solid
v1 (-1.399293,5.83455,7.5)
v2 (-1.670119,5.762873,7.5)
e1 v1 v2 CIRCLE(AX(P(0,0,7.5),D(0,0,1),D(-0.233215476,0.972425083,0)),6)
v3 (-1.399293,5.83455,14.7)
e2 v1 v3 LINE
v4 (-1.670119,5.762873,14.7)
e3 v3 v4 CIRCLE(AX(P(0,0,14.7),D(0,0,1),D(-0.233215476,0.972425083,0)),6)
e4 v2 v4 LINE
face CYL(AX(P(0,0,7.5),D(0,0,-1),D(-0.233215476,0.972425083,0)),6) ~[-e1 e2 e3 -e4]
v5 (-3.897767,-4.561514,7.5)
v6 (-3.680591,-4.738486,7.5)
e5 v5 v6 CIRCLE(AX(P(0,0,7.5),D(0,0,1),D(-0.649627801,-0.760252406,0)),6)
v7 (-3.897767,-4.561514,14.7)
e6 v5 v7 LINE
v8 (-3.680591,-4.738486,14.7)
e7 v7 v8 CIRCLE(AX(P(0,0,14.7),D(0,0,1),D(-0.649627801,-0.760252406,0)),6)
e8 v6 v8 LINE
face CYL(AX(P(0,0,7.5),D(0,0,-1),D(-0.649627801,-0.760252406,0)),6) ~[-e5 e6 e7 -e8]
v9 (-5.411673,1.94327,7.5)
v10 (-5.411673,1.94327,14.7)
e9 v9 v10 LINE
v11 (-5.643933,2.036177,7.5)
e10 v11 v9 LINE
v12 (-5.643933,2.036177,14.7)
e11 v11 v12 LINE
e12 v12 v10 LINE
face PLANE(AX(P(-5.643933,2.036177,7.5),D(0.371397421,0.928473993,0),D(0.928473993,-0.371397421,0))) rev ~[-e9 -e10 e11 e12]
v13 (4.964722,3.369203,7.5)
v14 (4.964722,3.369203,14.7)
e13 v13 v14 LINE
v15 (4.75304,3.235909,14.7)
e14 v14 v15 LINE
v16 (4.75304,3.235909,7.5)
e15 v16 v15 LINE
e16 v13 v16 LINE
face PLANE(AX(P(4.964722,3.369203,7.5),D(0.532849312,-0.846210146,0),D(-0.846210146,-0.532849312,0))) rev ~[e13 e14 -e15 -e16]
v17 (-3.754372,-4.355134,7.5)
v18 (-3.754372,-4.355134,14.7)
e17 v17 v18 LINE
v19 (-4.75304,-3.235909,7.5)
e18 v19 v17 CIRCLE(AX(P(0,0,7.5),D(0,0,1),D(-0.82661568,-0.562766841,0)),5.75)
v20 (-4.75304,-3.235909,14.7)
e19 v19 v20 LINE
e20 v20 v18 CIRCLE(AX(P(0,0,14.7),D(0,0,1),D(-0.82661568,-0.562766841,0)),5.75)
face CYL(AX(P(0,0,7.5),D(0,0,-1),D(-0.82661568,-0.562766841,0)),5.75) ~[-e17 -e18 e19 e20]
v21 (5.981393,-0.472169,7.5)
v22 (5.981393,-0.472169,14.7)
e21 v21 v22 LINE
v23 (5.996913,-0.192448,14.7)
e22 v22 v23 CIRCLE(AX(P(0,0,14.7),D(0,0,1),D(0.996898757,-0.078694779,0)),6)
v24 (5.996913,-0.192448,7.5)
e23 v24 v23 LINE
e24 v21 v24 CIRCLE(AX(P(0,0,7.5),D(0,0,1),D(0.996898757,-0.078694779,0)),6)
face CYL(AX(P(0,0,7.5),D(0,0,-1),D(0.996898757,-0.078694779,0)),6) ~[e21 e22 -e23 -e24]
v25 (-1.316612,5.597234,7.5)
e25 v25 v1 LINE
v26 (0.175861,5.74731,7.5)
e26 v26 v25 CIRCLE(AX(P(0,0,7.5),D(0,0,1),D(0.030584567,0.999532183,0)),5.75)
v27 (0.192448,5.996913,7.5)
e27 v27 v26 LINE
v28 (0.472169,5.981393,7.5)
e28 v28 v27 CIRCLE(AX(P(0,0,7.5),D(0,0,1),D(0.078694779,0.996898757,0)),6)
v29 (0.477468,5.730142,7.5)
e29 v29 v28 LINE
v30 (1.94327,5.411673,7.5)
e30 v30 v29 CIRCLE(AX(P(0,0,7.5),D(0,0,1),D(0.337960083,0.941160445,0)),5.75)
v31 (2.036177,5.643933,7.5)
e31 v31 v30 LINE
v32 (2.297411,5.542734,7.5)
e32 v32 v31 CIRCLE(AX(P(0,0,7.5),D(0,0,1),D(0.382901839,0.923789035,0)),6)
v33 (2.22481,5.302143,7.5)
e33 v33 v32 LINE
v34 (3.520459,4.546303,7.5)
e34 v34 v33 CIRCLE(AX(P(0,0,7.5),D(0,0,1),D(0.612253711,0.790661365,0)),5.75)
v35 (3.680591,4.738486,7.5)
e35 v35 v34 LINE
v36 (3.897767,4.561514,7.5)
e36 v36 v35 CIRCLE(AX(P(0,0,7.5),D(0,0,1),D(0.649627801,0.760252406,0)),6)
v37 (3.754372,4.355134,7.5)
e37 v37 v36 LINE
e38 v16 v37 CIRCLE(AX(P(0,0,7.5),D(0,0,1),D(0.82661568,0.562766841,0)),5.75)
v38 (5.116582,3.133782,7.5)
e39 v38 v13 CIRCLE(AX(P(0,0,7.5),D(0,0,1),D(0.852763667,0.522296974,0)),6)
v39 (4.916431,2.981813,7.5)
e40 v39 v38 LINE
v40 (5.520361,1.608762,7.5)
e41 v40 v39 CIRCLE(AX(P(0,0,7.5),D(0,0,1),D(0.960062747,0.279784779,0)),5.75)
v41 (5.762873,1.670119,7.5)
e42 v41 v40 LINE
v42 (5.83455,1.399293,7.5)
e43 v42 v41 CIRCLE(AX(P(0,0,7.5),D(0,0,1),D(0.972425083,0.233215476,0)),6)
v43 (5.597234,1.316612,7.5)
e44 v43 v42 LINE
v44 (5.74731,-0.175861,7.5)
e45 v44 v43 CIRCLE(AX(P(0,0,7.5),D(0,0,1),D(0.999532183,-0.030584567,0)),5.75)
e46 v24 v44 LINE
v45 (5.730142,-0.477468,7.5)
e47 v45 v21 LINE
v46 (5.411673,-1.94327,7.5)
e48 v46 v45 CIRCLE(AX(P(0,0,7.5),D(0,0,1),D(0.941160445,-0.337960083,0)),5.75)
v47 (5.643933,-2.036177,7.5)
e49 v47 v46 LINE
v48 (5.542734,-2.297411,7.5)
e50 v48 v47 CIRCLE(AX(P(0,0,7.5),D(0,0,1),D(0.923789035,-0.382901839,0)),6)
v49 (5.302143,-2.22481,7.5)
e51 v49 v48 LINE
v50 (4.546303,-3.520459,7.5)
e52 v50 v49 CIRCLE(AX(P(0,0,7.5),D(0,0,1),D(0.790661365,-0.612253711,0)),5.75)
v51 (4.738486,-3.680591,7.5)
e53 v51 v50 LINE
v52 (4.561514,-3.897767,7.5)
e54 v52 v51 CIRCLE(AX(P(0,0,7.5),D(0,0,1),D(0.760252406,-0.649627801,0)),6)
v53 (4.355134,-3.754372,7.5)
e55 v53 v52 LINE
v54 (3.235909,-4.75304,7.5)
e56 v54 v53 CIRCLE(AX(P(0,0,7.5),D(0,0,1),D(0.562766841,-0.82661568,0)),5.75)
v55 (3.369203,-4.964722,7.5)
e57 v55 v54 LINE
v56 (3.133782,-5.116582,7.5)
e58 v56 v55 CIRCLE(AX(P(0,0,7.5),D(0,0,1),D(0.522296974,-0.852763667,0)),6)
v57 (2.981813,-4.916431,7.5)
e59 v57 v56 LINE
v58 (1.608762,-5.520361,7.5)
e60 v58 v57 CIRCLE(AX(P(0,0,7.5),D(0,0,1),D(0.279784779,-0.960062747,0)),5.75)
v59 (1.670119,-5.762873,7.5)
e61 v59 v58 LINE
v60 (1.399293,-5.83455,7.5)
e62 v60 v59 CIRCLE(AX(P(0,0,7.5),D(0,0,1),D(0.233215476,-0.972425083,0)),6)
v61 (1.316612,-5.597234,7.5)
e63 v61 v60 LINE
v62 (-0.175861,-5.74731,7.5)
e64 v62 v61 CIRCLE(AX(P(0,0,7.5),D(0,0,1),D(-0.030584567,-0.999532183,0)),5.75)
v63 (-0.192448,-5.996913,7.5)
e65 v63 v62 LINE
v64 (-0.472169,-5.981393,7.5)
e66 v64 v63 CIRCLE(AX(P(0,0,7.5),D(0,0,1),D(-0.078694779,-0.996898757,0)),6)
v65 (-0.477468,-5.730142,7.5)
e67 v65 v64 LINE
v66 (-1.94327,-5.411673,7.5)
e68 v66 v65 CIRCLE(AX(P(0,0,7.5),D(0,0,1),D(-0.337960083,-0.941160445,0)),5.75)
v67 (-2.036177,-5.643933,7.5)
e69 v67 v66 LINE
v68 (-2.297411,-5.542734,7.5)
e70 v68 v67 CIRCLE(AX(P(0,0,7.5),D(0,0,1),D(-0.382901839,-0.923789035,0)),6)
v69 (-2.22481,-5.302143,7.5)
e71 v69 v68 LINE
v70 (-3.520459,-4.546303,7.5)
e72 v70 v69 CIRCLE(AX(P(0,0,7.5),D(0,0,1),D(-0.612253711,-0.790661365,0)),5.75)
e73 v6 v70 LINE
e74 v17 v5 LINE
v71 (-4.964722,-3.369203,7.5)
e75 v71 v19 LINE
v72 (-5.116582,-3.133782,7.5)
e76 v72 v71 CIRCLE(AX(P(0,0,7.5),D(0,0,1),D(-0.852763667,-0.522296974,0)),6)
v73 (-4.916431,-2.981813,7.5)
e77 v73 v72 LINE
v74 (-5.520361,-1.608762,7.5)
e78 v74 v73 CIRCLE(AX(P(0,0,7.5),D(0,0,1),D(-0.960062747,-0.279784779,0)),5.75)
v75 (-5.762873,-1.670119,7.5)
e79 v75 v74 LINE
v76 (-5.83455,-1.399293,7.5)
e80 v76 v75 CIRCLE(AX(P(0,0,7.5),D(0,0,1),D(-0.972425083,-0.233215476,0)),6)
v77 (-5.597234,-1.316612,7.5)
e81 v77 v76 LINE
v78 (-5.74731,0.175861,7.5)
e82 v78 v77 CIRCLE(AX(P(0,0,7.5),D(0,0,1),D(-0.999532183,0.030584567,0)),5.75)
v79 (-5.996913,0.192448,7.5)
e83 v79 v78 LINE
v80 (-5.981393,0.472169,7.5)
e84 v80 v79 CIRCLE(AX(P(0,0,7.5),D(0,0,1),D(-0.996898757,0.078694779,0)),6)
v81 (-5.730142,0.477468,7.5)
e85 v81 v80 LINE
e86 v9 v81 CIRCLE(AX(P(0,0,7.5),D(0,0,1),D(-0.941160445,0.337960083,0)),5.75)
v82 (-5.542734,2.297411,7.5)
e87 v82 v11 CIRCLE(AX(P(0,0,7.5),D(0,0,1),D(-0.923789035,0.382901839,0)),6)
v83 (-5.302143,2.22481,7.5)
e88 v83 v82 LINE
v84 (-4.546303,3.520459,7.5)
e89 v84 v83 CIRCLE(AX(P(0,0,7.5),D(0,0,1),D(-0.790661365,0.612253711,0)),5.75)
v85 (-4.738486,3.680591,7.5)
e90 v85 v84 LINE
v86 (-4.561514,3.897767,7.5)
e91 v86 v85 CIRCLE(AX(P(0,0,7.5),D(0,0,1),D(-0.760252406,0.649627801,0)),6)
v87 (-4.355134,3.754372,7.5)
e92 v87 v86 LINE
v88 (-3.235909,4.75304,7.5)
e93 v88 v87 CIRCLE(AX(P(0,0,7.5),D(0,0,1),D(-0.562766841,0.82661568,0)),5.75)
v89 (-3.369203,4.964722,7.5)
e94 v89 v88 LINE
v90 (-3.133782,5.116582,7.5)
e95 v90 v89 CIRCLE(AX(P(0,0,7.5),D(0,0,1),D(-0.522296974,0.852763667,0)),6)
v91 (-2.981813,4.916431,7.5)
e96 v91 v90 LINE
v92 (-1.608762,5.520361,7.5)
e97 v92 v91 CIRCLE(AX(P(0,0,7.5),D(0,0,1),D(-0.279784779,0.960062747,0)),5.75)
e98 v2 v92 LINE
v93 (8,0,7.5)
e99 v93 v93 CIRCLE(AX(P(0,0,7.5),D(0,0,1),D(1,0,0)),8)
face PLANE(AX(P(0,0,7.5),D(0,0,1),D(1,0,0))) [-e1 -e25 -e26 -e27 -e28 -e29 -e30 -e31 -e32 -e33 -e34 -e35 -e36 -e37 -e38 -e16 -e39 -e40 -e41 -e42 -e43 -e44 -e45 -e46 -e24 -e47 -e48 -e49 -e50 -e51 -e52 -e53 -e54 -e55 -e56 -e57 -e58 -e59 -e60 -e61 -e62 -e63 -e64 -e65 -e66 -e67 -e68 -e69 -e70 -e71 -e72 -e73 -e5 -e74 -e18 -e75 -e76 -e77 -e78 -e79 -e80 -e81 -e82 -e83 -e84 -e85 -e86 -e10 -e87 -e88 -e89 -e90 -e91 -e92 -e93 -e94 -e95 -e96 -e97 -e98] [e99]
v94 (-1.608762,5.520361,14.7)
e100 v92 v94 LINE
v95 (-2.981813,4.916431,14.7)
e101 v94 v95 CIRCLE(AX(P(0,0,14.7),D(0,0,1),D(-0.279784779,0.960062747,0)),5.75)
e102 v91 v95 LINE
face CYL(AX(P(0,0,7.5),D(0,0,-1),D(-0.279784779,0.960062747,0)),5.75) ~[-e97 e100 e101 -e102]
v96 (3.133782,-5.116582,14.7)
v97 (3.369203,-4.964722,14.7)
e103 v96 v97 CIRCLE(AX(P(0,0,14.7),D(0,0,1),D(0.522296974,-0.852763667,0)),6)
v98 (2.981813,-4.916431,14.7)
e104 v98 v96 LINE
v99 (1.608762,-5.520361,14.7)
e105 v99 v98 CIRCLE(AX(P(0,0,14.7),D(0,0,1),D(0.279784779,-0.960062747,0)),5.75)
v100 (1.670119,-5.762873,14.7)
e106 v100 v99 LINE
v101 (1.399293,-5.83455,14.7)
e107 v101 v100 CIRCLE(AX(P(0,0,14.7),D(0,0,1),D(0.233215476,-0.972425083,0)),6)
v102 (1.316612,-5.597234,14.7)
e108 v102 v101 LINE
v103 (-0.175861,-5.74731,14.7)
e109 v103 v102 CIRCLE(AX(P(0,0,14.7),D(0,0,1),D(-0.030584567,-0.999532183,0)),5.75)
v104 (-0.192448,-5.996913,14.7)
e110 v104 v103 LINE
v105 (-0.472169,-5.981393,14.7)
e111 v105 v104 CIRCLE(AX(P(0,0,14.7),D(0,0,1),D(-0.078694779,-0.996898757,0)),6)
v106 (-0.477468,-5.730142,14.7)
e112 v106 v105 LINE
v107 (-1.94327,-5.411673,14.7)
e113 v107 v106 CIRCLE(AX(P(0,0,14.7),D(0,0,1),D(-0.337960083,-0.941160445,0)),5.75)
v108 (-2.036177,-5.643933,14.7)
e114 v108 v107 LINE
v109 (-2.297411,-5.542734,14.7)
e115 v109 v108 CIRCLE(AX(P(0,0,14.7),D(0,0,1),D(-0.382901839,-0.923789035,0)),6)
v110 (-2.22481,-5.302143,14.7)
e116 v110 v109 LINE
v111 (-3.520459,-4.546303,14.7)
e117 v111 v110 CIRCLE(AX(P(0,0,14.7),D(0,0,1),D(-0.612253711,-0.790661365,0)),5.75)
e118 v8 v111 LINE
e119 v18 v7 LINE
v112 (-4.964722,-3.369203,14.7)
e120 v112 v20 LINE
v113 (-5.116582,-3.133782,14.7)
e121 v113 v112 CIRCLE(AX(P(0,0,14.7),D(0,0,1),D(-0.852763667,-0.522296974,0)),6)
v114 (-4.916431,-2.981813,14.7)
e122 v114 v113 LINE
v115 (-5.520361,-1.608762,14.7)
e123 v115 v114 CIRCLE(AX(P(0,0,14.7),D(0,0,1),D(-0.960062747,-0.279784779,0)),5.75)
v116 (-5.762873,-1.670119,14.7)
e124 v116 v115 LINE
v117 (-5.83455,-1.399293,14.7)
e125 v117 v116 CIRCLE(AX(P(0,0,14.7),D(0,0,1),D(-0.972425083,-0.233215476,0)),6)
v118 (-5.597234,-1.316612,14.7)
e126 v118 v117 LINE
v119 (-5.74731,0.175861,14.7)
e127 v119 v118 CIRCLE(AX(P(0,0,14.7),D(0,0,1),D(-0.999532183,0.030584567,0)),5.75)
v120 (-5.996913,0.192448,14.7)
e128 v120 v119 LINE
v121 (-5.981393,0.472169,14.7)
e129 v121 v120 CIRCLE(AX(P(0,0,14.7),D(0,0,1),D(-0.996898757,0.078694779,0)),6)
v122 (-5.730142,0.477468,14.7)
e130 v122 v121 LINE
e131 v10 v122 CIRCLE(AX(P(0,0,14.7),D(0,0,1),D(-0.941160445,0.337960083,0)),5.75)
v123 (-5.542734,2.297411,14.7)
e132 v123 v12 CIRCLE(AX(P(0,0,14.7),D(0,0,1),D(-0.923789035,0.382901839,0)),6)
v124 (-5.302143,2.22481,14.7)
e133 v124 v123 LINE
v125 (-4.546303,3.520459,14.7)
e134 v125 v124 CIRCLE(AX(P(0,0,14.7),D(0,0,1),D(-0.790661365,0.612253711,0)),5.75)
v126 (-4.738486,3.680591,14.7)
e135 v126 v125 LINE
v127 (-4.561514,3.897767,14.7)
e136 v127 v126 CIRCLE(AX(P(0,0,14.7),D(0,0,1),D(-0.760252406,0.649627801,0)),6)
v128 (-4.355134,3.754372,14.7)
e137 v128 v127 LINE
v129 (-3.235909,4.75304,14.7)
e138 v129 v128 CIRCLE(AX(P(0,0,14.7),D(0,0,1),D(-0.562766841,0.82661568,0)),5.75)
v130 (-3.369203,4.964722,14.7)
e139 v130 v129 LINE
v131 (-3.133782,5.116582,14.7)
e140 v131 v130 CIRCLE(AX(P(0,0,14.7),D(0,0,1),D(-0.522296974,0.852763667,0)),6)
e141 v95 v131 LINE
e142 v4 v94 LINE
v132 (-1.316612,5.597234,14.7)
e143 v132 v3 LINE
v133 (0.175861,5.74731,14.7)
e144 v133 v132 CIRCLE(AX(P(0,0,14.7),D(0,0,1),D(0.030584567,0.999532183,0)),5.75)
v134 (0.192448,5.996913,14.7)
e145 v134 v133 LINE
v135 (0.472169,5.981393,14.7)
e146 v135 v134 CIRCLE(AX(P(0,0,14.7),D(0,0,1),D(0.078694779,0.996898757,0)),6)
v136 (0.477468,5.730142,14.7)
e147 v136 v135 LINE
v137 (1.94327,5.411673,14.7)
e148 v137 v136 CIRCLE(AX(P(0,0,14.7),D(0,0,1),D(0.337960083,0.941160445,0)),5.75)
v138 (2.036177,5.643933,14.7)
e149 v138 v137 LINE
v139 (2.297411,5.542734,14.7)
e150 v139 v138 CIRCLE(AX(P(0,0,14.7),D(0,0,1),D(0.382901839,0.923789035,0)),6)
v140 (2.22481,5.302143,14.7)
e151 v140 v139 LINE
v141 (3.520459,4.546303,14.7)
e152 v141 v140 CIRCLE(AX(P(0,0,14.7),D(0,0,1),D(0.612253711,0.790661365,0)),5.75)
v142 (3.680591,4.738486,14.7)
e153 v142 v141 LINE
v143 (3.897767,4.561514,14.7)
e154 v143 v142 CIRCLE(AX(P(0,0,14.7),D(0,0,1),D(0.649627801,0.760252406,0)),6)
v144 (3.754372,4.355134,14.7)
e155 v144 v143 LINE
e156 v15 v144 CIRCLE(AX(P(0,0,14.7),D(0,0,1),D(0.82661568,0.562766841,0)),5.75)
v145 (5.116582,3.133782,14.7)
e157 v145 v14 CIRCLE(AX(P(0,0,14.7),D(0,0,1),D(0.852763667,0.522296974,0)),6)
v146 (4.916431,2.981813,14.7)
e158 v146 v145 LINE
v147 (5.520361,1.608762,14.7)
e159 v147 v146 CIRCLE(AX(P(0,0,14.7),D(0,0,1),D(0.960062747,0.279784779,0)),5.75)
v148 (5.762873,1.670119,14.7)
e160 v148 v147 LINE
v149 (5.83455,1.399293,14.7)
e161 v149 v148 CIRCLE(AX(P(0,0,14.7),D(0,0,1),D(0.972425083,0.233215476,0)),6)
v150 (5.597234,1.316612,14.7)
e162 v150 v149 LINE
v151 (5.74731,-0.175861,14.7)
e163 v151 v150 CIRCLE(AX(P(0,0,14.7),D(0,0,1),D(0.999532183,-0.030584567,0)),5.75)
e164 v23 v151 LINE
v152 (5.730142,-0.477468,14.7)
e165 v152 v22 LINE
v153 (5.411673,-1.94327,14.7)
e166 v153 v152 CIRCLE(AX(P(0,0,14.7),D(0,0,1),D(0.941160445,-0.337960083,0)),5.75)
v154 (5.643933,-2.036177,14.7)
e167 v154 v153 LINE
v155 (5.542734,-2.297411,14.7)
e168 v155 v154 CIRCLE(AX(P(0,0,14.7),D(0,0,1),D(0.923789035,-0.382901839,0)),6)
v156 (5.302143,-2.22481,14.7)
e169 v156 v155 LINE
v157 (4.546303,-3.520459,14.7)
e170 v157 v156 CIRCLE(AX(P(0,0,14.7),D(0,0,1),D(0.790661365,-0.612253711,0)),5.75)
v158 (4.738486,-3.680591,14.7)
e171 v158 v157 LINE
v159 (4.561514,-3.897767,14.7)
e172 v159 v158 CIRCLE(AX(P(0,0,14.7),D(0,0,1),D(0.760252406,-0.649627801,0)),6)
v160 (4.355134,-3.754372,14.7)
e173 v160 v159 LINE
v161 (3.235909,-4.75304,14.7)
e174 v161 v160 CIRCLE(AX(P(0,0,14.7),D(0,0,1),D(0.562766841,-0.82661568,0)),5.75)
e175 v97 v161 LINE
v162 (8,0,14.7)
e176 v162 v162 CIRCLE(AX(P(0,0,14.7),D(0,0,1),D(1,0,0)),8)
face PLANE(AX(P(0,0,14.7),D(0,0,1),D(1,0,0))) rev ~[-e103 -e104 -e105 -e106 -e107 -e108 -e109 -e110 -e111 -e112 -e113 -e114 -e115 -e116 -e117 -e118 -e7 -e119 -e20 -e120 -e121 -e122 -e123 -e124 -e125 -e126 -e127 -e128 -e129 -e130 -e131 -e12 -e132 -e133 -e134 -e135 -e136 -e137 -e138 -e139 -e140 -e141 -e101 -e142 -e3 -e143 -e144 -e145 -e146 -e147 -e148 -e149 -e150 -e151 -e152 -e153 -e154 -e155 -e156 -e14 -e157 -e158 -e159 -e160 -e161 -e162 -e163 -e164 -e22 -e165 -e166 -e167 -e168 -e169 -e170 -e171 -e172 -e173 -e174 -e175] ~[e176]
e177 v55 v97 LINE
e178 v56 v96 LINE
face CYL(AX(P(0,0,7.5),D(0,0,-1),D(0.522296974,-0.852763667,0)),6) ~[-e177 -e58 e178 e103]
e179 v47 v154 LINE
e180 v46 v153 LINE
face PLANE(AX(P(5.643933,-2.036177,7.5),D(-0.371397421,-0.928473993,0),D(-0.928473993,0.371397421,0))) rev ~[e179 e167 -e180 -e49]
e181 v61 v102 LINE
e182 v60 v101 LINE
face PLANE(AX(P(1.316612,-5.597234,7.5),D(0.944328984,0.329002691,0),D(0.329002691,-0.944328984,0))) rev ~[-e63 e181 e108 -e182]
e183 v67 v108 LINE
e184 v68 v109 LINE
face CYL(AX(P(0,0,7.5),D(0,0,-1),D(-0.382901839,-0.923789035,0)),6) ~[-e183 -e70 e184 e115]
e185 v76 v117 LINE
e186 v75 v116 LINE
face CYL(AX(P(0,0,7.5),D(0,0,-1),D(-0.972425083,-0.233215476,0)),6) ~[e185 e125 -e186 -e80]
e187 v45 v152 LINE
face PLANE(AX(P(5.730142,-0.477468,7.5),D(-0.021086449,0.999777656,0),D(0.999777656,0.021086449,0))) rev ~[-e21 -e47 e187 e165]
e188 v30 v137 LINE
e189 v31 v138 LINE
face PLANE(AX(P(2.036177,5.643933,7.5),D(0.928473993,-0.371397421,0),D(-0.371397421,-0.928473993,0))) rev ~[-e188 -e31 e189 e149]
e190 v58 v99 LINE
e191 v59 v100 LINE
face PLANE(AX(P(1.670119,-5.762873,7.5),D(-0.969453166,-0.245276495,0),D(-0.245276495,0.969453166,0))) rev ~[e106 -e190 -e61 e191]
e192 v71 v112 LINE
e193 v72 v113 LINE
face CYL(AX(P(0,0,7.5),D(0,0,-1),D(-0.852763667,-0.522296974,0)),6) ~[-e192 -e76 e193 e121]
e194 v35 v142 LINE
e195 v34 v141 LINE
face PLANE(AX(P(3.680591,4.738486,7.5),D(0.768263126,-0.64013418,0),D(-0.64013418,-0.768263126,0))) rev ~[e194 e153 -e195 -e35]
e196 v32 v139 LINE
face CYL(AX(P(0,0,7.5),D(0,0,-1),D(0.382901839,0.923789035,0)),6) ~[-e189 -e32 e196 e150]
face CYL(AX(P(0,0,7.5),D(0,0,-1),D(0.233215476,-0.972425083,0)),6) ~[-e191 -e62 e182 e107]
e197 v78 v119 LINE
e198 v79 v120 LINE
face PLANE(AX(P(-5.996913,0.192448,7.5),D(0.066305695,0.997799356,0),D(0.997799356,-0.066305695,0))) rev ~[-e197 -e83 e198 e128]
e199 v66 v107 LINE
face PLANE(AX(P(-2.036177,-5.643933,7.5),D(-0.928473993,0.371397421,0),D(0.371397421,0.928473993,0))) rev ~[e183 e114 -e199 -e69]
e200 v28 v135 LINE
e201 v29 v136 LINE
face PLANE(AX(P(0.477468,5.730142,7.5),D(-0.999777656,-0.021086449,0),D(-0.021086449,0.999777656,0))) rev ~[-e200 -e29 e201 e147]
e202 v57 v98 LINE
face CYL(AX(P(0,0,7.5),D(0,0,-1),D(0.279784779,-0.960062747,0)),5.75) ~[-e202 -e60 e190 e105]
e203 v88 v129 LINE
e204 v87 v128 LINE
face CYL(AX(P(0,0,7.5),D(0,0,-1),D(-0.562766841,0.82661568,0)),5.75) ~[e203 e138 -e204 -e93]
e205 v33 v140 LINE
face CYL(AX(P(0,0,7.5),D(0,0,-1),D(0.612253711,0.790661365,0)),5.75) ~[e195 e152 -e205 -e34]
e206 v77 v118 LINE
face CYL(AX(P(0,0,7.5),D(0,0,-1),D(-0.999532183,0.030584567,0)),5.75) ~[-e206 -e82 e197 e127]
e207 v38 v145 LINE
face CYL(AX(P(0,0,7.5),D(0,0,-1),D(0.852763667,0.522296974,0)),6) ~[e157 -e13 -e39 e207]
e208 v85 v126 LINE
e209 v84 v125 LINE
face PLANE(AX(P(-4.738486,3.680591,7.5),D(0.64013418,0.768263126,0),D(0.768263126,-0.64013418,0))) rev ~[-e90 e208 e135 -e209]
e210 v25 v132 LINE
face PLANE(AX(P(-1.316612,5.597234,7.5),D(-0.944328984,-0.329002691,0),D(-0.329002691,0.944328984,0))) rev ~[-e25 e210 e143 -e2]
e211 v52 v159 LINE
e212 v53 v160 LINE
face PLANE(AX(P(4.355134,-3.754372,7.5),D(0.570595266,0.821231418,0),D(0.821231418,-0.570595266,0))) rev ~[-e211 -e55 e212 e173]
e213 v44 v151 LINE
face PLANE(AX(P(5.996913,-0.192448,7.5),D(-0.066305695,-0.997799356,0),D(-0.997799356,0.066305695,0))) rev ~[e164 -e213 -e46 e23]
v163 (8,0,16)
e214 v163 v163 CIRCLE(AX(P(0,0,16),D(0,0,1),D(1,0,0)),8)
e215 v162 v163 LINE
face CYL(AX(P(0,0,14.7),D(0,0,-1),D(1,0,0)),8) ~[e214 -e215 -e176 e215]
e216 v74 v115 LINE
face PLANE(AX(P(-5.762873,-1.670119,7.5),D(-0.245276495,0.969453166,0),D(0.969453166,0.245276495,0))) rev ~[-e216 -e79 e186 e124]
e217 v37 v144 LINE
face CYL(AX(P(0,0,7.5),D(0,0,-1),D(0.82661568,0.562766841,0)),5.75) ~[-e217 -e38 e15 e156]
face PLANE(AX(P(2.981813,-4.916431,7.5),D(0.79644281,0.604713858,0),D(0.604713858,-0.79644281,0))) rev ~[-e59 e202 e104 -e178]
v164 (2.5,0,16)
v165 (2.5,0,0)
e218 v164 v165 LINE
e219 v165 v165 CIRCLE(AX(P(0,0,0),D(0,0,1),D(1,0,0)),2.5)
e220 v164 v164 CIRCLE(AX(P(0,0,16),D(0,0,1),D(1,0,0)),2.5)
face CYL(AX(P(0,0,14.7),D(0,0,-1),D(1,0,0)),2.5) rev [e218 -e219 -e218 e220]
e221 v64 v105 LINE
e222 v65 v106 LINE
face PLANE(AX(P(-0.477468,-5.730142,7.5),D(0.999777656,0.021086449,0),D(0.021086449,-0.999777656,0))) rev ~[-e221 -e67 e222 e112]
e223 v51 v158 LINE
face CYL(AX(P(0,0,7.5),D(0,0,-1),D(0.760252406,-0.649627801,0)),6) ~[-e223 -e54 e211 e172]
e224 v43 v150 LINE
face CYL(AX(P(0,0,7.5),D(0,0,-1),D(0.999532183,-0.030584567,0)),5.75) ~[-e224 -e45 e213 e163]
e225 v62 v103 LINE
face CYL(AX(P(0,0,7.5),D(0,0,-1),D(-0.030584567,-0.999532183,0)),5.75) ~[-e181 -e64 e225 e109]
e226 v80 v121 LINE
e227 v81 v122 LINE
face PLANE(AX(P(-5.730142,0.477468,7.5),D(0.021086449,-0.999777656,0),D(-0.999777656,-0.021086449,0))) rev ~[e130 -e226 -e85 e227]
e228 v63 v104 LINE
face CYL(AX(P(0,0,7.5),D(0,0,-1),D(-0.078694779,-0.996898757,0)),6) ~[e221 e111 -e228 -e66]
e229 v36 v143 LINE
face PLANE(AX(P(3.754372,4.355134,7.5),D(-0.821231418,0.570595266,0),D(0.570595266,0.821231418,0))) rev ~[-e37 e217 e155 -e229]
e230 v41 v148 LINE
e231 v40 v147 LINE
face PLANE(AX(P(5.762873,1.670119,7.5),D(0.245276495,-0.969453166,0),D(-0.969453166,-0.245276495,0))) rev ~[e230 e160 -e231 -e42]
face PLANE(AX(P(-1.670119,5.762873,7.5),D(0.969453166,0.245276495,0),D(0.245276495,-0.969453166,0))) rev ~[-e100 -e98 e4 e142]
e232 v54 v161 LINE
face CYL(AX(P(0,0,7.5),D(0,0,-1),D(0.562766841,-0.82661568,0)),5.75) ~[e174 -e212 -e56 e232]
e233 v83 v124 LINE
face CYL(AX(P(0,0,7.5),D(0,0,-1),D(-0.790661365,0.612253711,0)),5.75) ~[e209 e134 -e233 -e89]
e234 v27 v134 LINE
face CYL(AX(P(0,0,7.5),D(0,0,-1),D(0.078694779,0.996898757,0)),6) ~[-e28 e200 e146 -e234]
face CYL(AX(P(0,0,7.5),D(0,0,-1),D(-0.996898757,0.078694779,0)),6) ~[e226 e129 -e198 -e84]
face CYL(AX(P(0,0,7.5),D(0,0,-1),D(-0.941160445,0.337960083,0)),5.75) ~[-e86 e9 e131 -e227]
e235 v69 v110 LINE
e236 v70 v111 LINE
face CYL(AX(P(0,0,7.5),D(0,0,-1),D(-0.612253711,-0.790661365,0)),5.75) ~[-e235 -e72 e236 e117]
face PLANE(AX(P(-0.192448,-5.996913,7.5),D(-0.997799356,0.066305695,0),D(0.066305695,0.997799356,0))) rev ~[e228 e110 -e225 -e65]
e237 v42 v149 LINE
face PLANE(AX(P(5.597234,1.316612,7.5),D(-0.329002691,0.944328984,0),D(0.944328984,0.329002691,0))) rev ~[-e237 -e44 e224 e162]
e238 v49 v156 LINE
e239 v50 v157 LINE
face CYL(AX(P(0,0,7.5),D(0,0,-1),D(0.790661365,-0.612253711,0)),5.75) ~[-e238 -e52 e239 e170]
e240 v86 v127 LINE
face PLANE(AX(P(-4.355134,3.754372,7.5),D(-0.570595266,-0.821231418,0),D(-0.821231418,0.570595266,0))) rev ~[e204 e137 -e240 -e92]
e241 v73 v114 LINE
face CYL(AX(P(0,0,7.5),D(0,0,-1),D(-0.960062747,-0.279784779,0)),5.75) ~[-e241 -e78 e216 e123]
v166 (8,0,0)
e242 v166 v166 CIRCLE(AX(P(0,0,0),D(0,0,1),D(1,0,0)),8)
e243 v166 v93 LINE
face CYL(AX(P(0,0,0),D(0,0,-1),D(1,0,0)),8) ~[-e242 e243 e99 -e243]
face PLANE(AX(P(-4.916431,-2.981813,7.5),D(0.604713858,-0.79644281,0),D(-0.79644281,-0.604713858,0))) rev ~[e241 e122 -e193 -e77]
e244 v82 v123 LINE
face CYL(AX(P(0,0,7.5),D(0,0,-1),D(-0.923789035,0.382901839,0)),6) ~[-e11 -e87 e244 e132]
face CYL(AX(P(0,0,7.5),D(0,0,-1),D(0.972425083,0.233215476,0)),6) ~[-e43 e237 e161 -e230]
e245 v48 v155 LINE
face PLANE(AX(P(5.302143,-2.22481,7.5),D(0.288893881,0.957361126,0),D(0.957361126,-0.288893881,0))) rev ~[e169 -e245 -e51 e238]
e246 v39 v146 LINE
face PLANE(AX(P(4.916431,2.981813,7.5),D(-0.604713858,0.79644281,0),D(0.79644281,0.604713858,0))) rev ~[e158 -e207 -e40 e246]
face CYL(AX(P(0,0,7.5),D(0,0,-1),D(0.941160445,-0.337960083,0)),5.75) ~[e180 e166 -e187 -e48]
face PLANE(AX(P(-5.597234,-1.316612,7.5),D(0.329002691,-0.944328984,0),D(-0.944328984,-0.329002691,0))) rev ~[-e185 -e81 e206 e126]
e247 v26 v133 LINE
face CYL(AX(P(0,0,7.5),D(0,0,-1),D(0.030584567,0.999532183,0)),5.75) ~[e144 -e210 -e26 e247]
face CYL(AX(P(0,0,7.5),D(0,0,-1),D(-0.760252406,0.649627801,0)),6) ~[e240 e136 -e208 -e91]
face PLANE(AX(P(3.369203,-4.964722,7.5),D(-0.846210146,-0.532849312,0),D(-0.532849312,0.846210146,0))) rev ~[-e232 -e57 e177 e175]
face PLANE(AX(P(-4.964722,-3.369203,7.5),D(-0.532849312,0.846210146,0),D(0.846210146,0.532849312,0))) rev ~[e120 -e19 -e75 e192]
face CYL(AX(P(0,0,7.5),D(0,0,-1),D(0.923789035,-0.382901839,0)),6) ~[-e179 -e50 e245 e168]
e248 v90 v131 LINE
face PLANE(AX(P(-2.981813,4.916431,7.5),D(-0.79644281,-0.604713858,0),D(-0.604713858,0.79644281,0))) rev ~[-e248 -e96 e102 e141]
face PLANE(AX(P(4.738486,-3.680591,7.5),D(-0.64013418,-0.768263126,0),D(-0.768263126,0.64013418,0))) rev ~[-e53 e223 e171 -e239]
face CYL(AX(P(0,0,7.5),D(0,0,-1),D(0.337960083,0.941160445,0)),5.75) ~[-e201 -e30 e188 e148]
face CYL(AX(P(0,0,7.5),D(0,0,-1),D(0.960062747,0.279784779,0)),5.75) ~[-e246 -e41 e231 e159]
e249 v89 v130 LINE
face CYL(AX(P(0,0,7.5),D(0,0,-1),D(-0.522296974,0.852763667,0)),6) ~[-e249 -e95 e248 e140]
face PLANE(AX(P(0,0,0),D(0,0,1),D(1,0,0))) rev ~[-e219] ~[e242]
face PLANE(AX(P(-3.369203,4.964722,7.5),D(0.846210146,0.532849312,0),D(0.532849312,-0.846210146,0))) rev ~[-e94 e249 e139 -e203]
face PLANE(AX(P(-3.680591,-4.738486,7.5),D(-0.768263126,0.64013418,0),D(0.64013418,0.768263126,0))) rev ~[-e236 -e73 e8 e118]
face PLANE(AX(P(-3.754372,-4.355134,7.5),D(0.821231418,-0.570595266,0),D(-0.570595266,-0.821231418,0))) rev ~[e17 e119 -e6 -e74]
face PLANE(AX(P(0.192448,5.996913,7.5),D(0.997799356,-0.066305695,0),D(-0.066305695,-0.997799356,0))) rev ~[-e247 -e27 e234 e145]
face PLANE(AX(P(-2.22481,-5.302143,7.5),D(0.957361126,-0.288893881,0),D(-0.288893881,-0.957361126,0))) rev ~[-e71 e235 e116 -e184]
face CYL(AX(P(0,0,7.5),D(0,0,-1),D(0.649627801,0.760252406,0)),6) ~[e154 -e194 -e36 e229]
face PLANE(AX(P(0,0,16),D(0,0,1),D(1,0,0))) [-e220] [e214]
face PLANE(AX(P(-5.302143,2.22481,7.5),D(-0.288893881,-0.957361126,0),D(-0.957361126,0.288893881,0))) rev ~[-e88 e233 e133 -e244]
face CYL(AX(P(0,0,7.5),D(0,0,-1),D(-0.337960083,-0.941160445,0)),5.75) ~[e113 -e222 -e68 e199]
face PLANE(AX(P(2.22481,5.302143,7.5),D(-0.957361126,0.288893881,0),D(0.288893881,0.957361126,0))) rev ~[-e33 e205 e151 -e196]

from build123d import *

# Parameters (mm, degrees)
F0_R     = 8
F0_R_2   = 2.5
F1_DEPTH = 7.5
F2_R     = 2.5
F3_DEPTH = 7.2
F4_R     = 8
F4_R_2   = 2.5
F5_DEPTH = 1.3


with BuildPart() as f1:
    # F0 (on Top) → F1 (new body)
    with BuildSketch(Plane.XY):
        Circle(F0_R)
        Circle(F0_R_2, mode=Mode.SUBTRACT)
    extrude(amount=F1_DEPTH)

    # F2 (on face) → F3 (join)
    with BuildSketch(Plane.XY.offset(7.5)):
        with BuildLine():
            Line((4.9164306089, 2.9818132181), (5.1165819993, 3.1337818439))
            ThreePointArc((5.1165819993, 3.1337818439), (5.042026432, 3.2523790461), (4.964722424, 3.3692033558))
            Line((4.964722424, 3.3692033558), (4.7530401587, 3.2359093389))
            ThreePointArc((4.7530401587, 3.2359093389), (4.2903592893, 3.8282263738), (3.7543724091, 4.3551335013))
            Line((3.7543724091, 4.3551335013), (3.8977668051, 4.5615144341))
            ThreePointArc((3.8977668051, 4.5615144341), (3.790211696, 4.6512681388), (3.6805905185, 4.7384864076))
            Line((3.6805905185, 4.7384864076), (3.5204588372, 4.5463028469))
            ThreePointArc((3.5204588372, 4.5463028469), (2.8973871515, 4.966653571), (2.2248100796, 5.3021429733))
            Line((2.2248100796, 5.3021429733), (2.2974110388, 5.5427342097))
            ThreePointArc((2.2974110388, 5.5427342097), (2.1673846314, 5.5948586988), (2.0361767688, 5.6439333949))
            Line((2.0361767688, 5.6439333949), (1.9432704762, 5.4116725563))
            ThreePointArc((1.9432704762, 5.4116725563), (1.2207985721, 5.618910112), (0.4774678383, 5.730141749))
            Line((0.4774678383, 5.730141749), (0.472168673, 5.9813925422))
            ThreePointArc((0.472168673, 5.9813925422), (0.3323988579, 5.9907855077), (0.1924478502, 5.9969128579))
            Line((0.1924478502, 5.9969128579), (0.1758612615, 5.7473100505))
            ThreePointArc((0.1758612615, 5.7473100505), (-0.5752902774, 5.7211485819), (-1.3166122817, 5.597234326))
            Line((-1.3166122817, 5.597234326), (-1.3992928524, 5.834550498))
            ThreePointArc((-1.3992928524, 5.834550498), (-1.5351244317, 5.8002924908), (-1.6701192049, 5.7628727074))
            Line((-1.6701192049, 5.7628727074), (-1.6087624789, 5.5203607932))
            ThreePointArc((-1.6087624789, 5.5203607932), (-2.3150657063, 5.2633611671), (-2.9818132181, 4.9164306089))
            Line((-2.9818132181, 4.9164306089), (-3.1337818439, 5.1165819993))
            ThreePointArc((-3.1337818439, 5.1165819993), (-3.2523790461, 5.042026432), (-3.3692033558, 4.964722424))
            Line((-3.3692033558, 4.964722424), (-3.2359093389, 4.7530401587))
            ThreePointArc((-3.2359093389, 4.7530401587), (-3.8282263738, 4.2903592893), (-4.3551335013, 3.7543724091))
            Line((-4.3551335013, 3.7543724091), (-4.5615144341, 3.8977668051))
            ThreePointArc((-4.5615144341, 3.8977668051), (-4.6512681388, 3.790211696), (-4.7384864076, 3.6805905185))
            Line((-4.7384864076, 3.6805905185), (-4.5463028469, 3.5204588372))
            ThreePointArc((-4.5463028469, 3.5204588372), (-4.966653571, 2.8973871515), (-5.3021429733, 2.2248100796))
            Line((-5.3021429733, 2.2248100796), (-5.5427342097, 2.2974110388))
            ThreePointArc((-5.5427342097, 2.2974110388), (-5.5948586988, 2.1673846314), (-5.6439333949, 2.0361767688))
            Line((-5.6439333949, 2.0361767688), (-5.4116725563, 1.9432704762))
            ThreePointArc((-5.4116725563, 1.9432704762), (-5.618910112, 1.2207985721), (-5.730141749, 0.4774678383))
            Line((-5.730141749, 0.4774678383), (-5.9813925422, 0.472168673))
            ThreePointArc((-5.9813925422, 0.472168673), (-5.9907855077, 0.3323988579), (-5.9969128579, 0.1924478502))
            Line((-5.9969128579, 0.1924478502), (-5.7473100505, 0.1758612615))
            ThreePointArc((-5.7473100505, 0.1758612615), (-5.7211485819, -0.5752902774), (-5.597234326, -1.3166122817))
            Line((-5.597234326, -1.3166122817), (-5.834550498, -1.3992928524))
            ThreePointArc((-5.834550498, -1.3992928524), (-5.8002924908, -1.5351244317), (-5.7628727074, -1.6701192049))
            Line((-5.7628727074, -1.6701192049), (-5.5203607932, -1.6087624789))
            ThreePointArc((-5.5203607932, -1.6087624789), (-5.2633611671, -2.3150657063), (-4.9164306089, -2.9818132181))
            Line((-4.9164306089, -2.9818132181), (-5.1165819993, -3.1337818439))
            ThreePointArc((-5.1165819993, -3.1337818439), (-5.042026432, -3.2523790461), (-4.964722424, -3.3692033558))
            Line((-4.964722424, -3.3692033558), (-4.7530401587, -3.2359093389))
            ThreePointArc((-4.7530401587, -3.2359093389), (-4.2903592893, -3.8282263738), (-3.7543724091, -4.3551335013))
            Line((-3.7543724091, -4.3551335013), (-3.8977668051, -4.5615144341))
            ThreePointArc((-3.8977668051, -4.5615144341), (-3.790211696, -4.6512681388), (-3.6805905185, -4.7384864076))
            Line((-3.6805905185, -4.7384864076), (-3.5204588372, -4.5463028469))
            ThreePointArc((-3.5204588372, -4.5463028469), (-2.8973871515, -4.966653571), (-2.2248100796, -5.3021429733))
            Line((-2.2248100796, -5.3021429733), (-2.2974110388, -5.5427342097))
            ThreePointArc((-2.2974110388, -5.5427342097), (-2.1673846314, -5.5948586988), (-2.0361767688, -5.6439333949))
            Line((-2.0361767688, -5.6439333949), (-1.9432704762, -5.4116725563))
            ThreePointArc((-1.9432704762, -5.4116725563), (-1.2207985721, -5.618910112), (-0.4774678383, -5.730141749))
            Line((-0.4774678383, -5.730141749), (-0.472168673, -5.9813925422))
            ThreePointArc((-0.472168673, -5.9813925422), (-0.3323988579, -5.9907855077), (-0.1924478502, -5.9969128579))
            Line((-0.1924478502, -5.9969128579), (-0.1758612615, -5.7473100505))
            ThreePointArc((-0.1758612615, -5.7473100505), (0.5752902774, -5.7211485819), (1.3166122817, -5.597234326))
            Line((1.3166122817, -5.597234326), (1.3992928524, -5.834550498))
            ThreePointArc((1.3992928524, -5.834550498), (1.5351244317, -5.8002924908), (1.6701192049, -5.7628727074))
            Line((1.6701192049, -5.7628727074), (1.6087624789, -5.5203607932))
            ThreePointArc((1.6087624789, -5.5203607932), (2.3150657063, -5.2633611671), (2.9818132181, -4.9164306089))
            Line((2.9818132181, -4.9164306089), (3.1337818439, -5.1165819993))
            ThreePointArc((3.1337818439, -5.1165819993), (3.2523790461, -5.042026432), (3.3692033558, -4.964722424))
            Line((3.3692033558, -4.964722424), (3.2359093389, -4.7530401587))
            ThreePointArc((3.2359093389, -4.7530401587), (3.8282263738, -4.2903592893), (4.3551335013, -3.7543724091))
            Line((4.3551335013, -3.7543724091), (4.5615144341, -3.8977668051))
            ThreePointArc((4.5615144341, -3.8977668051), (4.6512681388, -3.790211696), (4.7384864076, -3.6805905185))
            Line((4.7384864076, -3.6805905185), (4.5463028469, -3.5204588372))
            ThreePointArc((4.5463028469, -3.5204588372), (4.966653571, -2.8973871515), (5.3021429733, -2.2248100796))
            Line((5.3021429733, -2.2248100796), (5.5427342097, -2.2974110388))
            ThreePointArc((5.5427342097, -2.2974110388), (5.5948586988, -2.1673846314), (5.6439333949, -2.0361767688))
            Line((5.6439333949, -2.0361767688), (5.4116725563, -1.9432704762))
            ThreePointArc((5.4116725563, -1.9432704762), (5.618910112, -1.2207985721), (5.730141749, -0.4774678383))
            Line((5.730141749, -0.4774678383), (5.9813925422, -0.472168673))
            ThreePointArc((5.9813925422, -0.472168673), (5.9907855077, -0.3323988579), (5.9969128579, -0.1924478502))
            Line((5.9969128579, -0.1924478502), (5.7473100505, -0.1758612615))
            ThreePointArc((5.7473100505, -0.1758612615), (5.7211485819, 0.5752902774), (5.597234326, 1.3166122817))
            Line((5.597234326, 1.3166122817), (5.834550498, 1.3992928524))
            ThreePointArc((5.834550498, 1.3992928524), (5.8002924908, 1.5351244317), (5.7628727074, 1.6701192049))
            Line((5.7628727074, 1.6701192049), (5.5203607932, 1.6087624789))
            ThreePointArc((5.5203607932, 1.6087624789), (5.2633611671, 2.3150657063), (4.9164306089, 2.9818132181))
        make_face()
        Circle(F2_R, mode=Mode.SUBTRACT)
    extrude(amount=F3_DEPTH)

    # F4 (on face) → F5 (join)
    with BuildSketch(Plane.XY.offset(14.7)):
        Circle(F4_R)
        with BuildLine():
            ThreePointArc((-3.7543724091, -4.3551335013), (-4.2903592893, -3.8282263738), (-4.7530401587, -3.2359093389))
            Line((-4.7530401587, -3.2359093389), (-4.964722424, -3.3692033558))
            ThreePointArc((-4.964722424, -3.3692033558), (-5.042026432, -3.2523790461), (-5.1165819993, -3.1337818439))
            Line((-5.1165819993, -3.1337818439), (-4.9164306089, -2.9818132181))
            ThreePointArc((-4.9164306089, -2.9818132181), (-5.2633611671, -2.3150657063), (-5.5203607932, -1.6087624789))
            Line((-5.5203607932, -1.6087624789), (-5.7628727074, -1.6701192049))
            ThreePointArc((-5.7628727074, -1.6701192049), (-5.8002924908, -1.5351244317), (-5.834550498, -1.3992928524))
            Line((-5.834550498, -1.3992928524), (-5.597234326, -1.3166122817))
            ThreePointArc((-5.597234326, -1.3166122817), (-5.7211485819, -0.5752902774), (-5.7473100505, 0.1758612615))
            Line((-5.7473100505, 0.1758612615), (-5.9969128579, 0.1924478502))
            ThreePointArc((-5.9969128579, 0.1924478502), (-5.9907855077, 0.3323988579), (-5.9813925422, 0.472168673))
            Line((-5.9813925422, 0.472168673), (-5.730141749, 0.4774678383))
            ThreePointArc((-5.730141749, 0.4774678383), (-5.618910112, 1.2207985721), (-5.4116725563, 1.9432704762))
            Line((-5.4116725563, 1.9432704762), (-5.6439333949, 2.0361767688))
            ThreePointArc((-5.6439333949, 2.0361767688), (-5.5948586988, 2.1673846314), (-5.5427342097, 2.2974110388))
            Line((-5.5427342097, 2.2974110388), (-5.3021429733, 2.2248100796))
            ThreePointArc((-5.3021429733, 2.2248100796), (-4.966653571, 2.8973871515), (-4.5463028469, 3.5204588372))
            Line((-4.5463028469, 3.5204588372), (-4.7384864076, 3.6805905185))
            ThreePointArc((-4.7384864076, 3.6805905185), (-4.6512681388, 3.790211696), (-4.5615144341, 3.8977668051))
            Line((-4.5615144341, 3.8977668051), (-4.3551335013, 3.7543724091))
            ThreePointArc((-4.3551335013, 3.7543724091), (-3.8282263738, 4.2903592893), (-3.2359093389, 4.7530401587))
            Line((-3.2359093389, 4.7530401587), (-3.3692033558, 4.964722424))
            ThreePointArc((-3.3692033558, 4.964722424), (-3.2523790461, 5.042026432), (-3.1337818439, 5.1165819993))
            Line((-3.1337818439, 5.1165819993), (-2.9818132181, 4.9164306089))
            ThreePointArc((-2.9818132181, 4.9164306089), (-2.3150657063, 5.2633611671), (-1.6087624789, 5.5203607932))
            Line((-1.6087624789, 5.5203607932), (-1.6701192049, 5.7628727074))
            ThreePointArc((-1.6701192049, 5.7628727074), (-1.5351244317, 5.8002924908), (-1.3992928524, 5.834550498))
            Line((-1.3992928524, 5.834550498), (-1.3166122817, 5.597234326))
            ThreePointArc((-1.3166122817, 5.597234326), (-0.5752902774, 5.7211485819), (0.1758612615, 5.7473100505))
            Line((0.1758612615, 5.7473100505), (0.1924478502, 5.9969128579))
            ThreePointArc((0.1924478502, 5.9969128579), (0.3323988579, 5.9907855077), (0.472168673, 5.9813925422))
            Line((0.472168673, 5.9813925422), (0.4774678383, 5.730141749))
            ThreePointArc((0.4774678383, 5.730141749), (1.2207985721, 5.618910112), (1.9432704762, 5.4116725563))
            Line((1.9432704762, 5.4116725563), (2.0361767688, 5.6439333949))
            ThreePointArc((2.0361767688, 5.6439333949), (2.1673846314, 5.5948586988), (2.2974110388, 5.5427342097))
            Line((2.2974110388, 5.5427342097), (2.2248100796, 5.3021429733))
            ThreePointArc((2.2248100796, 5.3021429733), (2.8973871515, 4.966653571), (3.5204588372, 4.5463028469))
            Line((3.5204588372, 4.5463028469), (3.6805905185, 4.7384864076))
            ThreePointArc((3.6805905185, 4.7384864076), (3.790211696, 4.6512681388), (3.8977668051, 4.5615144341))
            Line((3.8977668051, 4.5615144341), (3.7543724091, 4.3551335013))
            ThreePointArc((3.7543724091, 4.3551335013), (4.2903592893, 3.8282263738), (4.7530401587, 3.2359093389))
            Line((4.7530401587, 3.2359093389), (4.964722424, 3.3692033558))
            ThreePointArc((4.964722424, 3.3692033558), (5.042026432, 3.2523790461), (5.1165819993, 3.1337818439))
            Line((5.1165819993, 3.1337818439), (4.9164306089, 2.9818132181))
            ThreePointArc((4.9164306089, 2.9818132181), (5.2633611671, 2.3150657063), (5.5203607932, 1.6087624789))
            Line((5.5203607932, 1.6087624789), (5.7628727074, 1.6701192049))
            ThreePointArc((5.7628727074, 1.6701192049), (5.8002924908, 1.5351244317), (5.834550498, 1.3992928524))
            Line((5.834550498, 1.3992928524), (5.597234326, 1.3166122817))
            ThreePointArc((5.597234326, 1.3166122817), (5.7211485819, 0.5752902774), (5.7473100505, -0.1758612615))
            Line((5.7473100505, -0.1758612615), (5.9969128579, -0.1924478502))
            ThreePointArc((5.9969128579, -0.1924478502), (5.9907855077, -0.3323988579), (5.9813925422, -0.472168673))
            Line((5.9813925422, -0.472168673), (5.730141749, -0.4774678383))
            ThreePointArc((5.730141749, -0.4774678383), (5.618910112, -1.2207985721), (5.4116725563, -1.9432704762))
            Line((5.4116725563, -1.9432704762), (5.6439333949, -2.0361767688))
            ThreePointArc((5.6439333949, -2.0361767688), (5.5948586988, -2.1673846314), (5.5427342097, -2.2974110388))
            Line((5.5427342097, -2.2974110388), (5.3021429733, -2.2248100796))
            ThreePointArc((5.3021429733, -2.2248100796), (4.966653571, -2.8973871515), (4.5463028469, -3.5204588372))
            Line((4.5463028469, -3.5204588372), (4.7384864076, -3.6805905185))
            ThreePointArc((4.7384864076, -3.6805905185), (4.6512681388, -3.790211696), (4.5615144341, -3.8977668051))
            Line((4.5615144341, -3.8977668051), (4.3551335013, -3.7543724091))
            ThreePointArc((4.3551335013, -3.7543724091), (3.8282263738, -4.2903592893), (3.2359093389, -4.7530401587))
            Line((3.2359093389, -4.7530401587), (3.3692033558, -4.964722424))
            ThreePointArc((3.3692033558, -4.964722424), (3.2523790461, -5.042026432), (3.1337818439, -5.1165819993))
            Line((3.1337818439, -5.1165819993), (2.9818132181, -4.9164306089))
            ThreePointArc((2.9818132181, -4.9164306089), (2.3150657063, -5.2633611671), (1.6087624789, -5.5203607932))
            Line((1.6087624789, -5.5203607932), (1.6701192049, -5.7628727074))
            ThreePointArc((1.6701192049, -5.7628727074), (1.5351244317, -5.8002924908), (1.3992928524, -5.834550498))
            Line((1.3992928524, -5.834550498), (1.3166122817, -5.597234326))
            ThreePointArc((1.3166122817, -5.597234326), (0.5752902774, -5.7211485819), (-0.1758612615, -5.7473100505))
            Line((-0.1758612615, -5.7473100505), (-0.1924478502, -5.9969128579))
            ThreePointArc((-0.1924478502, -5.9969128579), (-0.3323988579, -5.9907855077), (-0.472168673, -5.9813925422))
            Line((-0.472168673, -5.9813925422), (-0.4774678383, -5.730141749))
            ThreePointArc((-0.4774678383, -5.730141749), (-1.2207985721, -5.618910112), (-1.9432704762, -5.4116725563))
            Line((-1.9432704762, -5.4116725563), (-2.0361767688, -5.6439333949))
            ThreePointArc((-2.0361767688, -5.6439333949), (-2.1673846314, -5.5948586988), (-2.2974110388, -5.5427342097))
            Line((-2.2974110388, -5.5427342097), (-2.2248100796, -5.3021429733))
            ThreePointArc((-2.2248100796, -5.3021429733), (-2.8973871515, -4.966653571), (-3.5204588372, -4.5463028469))
            Line((-3.5204588372, -4.5463028469), (-3.6805905185, -4.7384864076))
            ThreePointArc((-3.6805905185, -4.7384864076), (-3.790211696, -4.6512681388), (-3.8977668051, -4.5615144341))
            Line((-3.8977668051, -4.5615144341), (-3.7543724091, -4.3551335013))
        make_face(mode=Mode.SUBTRACT)
        with BuildLine():
            Line((-4.964722424, -3.3692033558), (-4.7530401587, -3.2359093389))
            ThreePointArc((-4.7530401587, -3.2359093389), (-4.2903592893, -3.8282263738), (-3.7543724091, -4.3551335013))
            Line((-3.7543724091, -4.3551335013), (-3.8977668051, -4.5615144341))
            ThreePointArc((-3.8977668051, -4.5615144341), (-3.790211696, -4.6512681388), (-3.6805905185, -4.7384864076))
            Line((-3.6805905185, -4.7384864076), (-3.5204588372, -4.5463028469))
            ThreePointArc((-3.5204588372, -4.5463028469), (-2.8973871515, -4.966653571), (-2.2248100796, -5.3021429733))
            Line((-2.2248100796, -5.3021429733), (-2.2974110388, -5.5427342097))
            ThreePointArc((-2.2974110388, -5.5427342097), (-2.1673846314, -5.5948586988), (-2.0361767688, -5.6439333949))
            Line((-2.0361767688, -5.6439333949), (-1.9432704762, -5.4116725563))
            ThreePointArc((-1.9432704762, -5.4116725563), (-1.2207985721, -5.618910112), (-0.4774678383, -5.730141749))
            Line((-0.4774678383, -5.730141749), (-0.472168673, -5.9813925422))
            ThreePointArc((-0.472168673, -5.9813925422), (-0.3323988579, -5.9907855077), (-0.1924478502, -5.9969128579))
            Line((-0.1924478502, -5.9969128579), (-0.1758612615, -5.7473100505))
            ThreePointArc((-0.1758612615, -5.7473100505), (0.5752902774, -5.7211485819), (1.3166122817, -5.597234326))
            Line((1.3166122817, -5.597234326), (1.3992928524, -5.834550498))
            ThreePointArc((1.3992928524, -5.834550498), (1.5351244317, -5.8002924908), (1.6701192049, -5.7628727074))
            Line((1.6701192049, -5.7628727074), (1.6087624789, -5.5203607932))
            ThreePointArc((1.6087624789, -5.5203607932), (2.3150657063, -5.2633611671), (2.9818132181, -4.9164306089))
            Line((2.9818132181, -4.9164306089), (3.1337818439, -5.1165819993))
            ThreePointArc((3.1337818439, -5.1165819993), (3.2523790461, -5.042026432), (3.3692033558, -4.964722424))
            Line((3.3692033558, -4.964722424), (3.2359093389, -4.7530401587))
            ThreePointArc((3.2359093389, -4.7530401587), (3.8282263738, -4.2903592893), (4.3551335013, -3.7543724091))
            Line((4.3551335013, -3.7543724091), (4.5615144341, -3.8977668051))
            ThreePointArc((4.5615144341, -3.8977668051), (4.6512681388, -3.790211696), (4.7384864076, -3.6805905185))
            Line((4.7384864076, -3.6805905185), (4.5463028469, -3.5204588372))
            ThreePointArc((4.5463028469, -3.5204588372), (4.966653571, -2.8973871515), (5.3021429733, -2.2248100796))
            Line((5.3021429733, -2.2248100796), (5.5427342097, -2.2974110388))
            ThreePointArc((5.5427342097, -2.2974110388), (5.5948586988, -2.1673846314), (5.6439333949, -2.0361767688))
            Line((5.6439333949, -2.0361767688), (5.4116725563, -1.9432704762))
            ThreePointArc((5.4116725563, -1.9432704762), (5.618910112, -1.2207985721), (5.730141749, -0.4774678383))
            Line((5.730141749, -0.4774678383), (5.9813925422, -0.472168673))
            ThreePointArc((5.9813925422, -0.472168673), (5.9907855077, -0.3323988579), (5.9969128579, -0.1924478502))
            Line((5.9969128579, -0.1924478502), (5.7473100505, -0.1758612615))
            ThreePointArc((5.7473100505, -0.1758612615), (5.7211485819, 0.5752902774), (5.597234326, 1.3166122817))
            Line((5.597234326, 1.3166122817), (5.834550498, 1.3992928524))
            ThreePointArc((5.834550498, 1.3992928524), (5.8002924908, 1.5351244317), (5.7628727074, 1.6701192049))
            Line((5.7628727074, 1.6701192049), (5.5203607932, 1.6087624789))
            ThreePointArc((5.5203607932, 1.6087624789), (5.2633611671, 2.3150657063), (4.9164306089, 2.9818132181))
            Line((4.9164306089, 2.9818132181), (5.1165819993, 3.1337818439))
            ThreePointArc((5.1165819993, 3.1337818439), (5.042026432, 3.2523790461), (4.964722424, 3.3692033558))
            Line((4.964722424, 3.3692033558), (4.7530401587, 3.2359093389))
            ThreePointArc((4.7530401587, 3.2359093389), (4.2903592893, 3.8282263738), (3.7543724091, 4.3551335013))
            Line((3.7543724091, 4.3551335013), (3.8977668051, 4.5615144341))
            ThreePointArc((3.8977668051, 4.5615144341), (3.790211696, 4.6512681388), (3.6805905185, 4.7384864076))
            Line((3.6805905185, 4.7384864076), (3.5204588372, 4.5463028469))
            ThreePointArc((3.5204588372, 4.5463028469), (2.8973871515, 4.966653571), (2.2248100796, 5.3021429733))
            Line((2.2248100796, 5.3021429733), (2.2974110388, 5.5427342097))
            ThreePointArc((2.2974110388, 5.5427342097), (2.1673846314, 5.5948586988), (2.0361767688, 5.6439333949))
            Line((2.0361767688, 5.6439333949), (1.9432704762, 5.4116725563))
            ThreePointArc((1.9432704762, 5.4116725563), (1.2207985721, 5.618910112), (0.4774678383, 5.730141749))
            Line((0.4774678383, 5.730141749), (0.472168673, 5.9813925422))
            ThreePointArc((0.472168673, 5.9813925422), (0.3323988579, 5.9907855077), (0.1924478502, 5.9969128579))
            Line((0.1924478502, 5.9969128579), (0.1758612615, 5.7473100505))
            ThreePointArc((0.1758612615, 5.7473100505), (-0.5752902774, 5.7211485819), (-1.3166122817, 5.597234326))
            Line((-1.3166122817, 5.597234326), (-1.3992928524, 5.834550498))
            ThreePointArc((-1.3992928524, 5.834550498), (-1.5351244317, 5.8002924908), (-1.6701192049, 5.7628727074))
            Line((-1.6701192049, 5.7628727074), (-1.6087624789, 5.5203607932))
            ThreePointArc((-1.6087624789, 5.5203607932), (-2.3150657063, 5.2633611671), (-2.9818132181, 4.9164306089))
            Line((-2.9818132181, 4.9164306089), (-3.1337818439, 5.1165819993))
            ThreePointArc((-3.1337818439, 5.1165819993), (-3.2523790461, 5.042026432), (-3.3692033558, 4.964722424))
            Line((-3.3692033558, 4.964722424), (-3.2359093389, 4.7530401587))
            ThreePointArc((-3.2359093389, 4.7530401587), (-3.8282263738, 4.2903592893), (-4.3551335013, 3.7543724091))
            Line((-4.3551335013, 3.7543724091), (-4.5615144341, 3.8977668051))
            ThreePointArc((-4.5615144341, 3.8977668051), (-4.6512681388, 3.790211696), (-4.7384864076, 3.6805905185))
            Line((-4.7384864076, 3.6805905185), (-4.5463028469, 3.5204588372))
            ThreePointArc((-4.5463028469, 3.5204588372), (-4.966653571, 2.8973871515), (-5.3021429733, 2.2248100796))
            Line((-5.3021429733, 2.2248100796), (-5.5427342097, 2.2974110388))
            ThreePointArc((-5.5427342097, 2.2974110388), (-5.5948586988, 2.1673846314), (-5.6439333949, 2.0361767688))
            Line((-5.6439333949, 2.0361767688), (-5.4116725563, 1.9432704762))
            ThreePointArc((-5.4116725563, 1.9432704762), (-5.618910112, 1.2207985721), (-5.730141749, 0.4774678383))
            Line((-5.730141749, 0.4774678383), (-5.9813925422, 0.472168673))
            ThreePointArc((-5.9813925422, 0.472168673), (-5.9907855077, 0.3323988579), (-5.9969128579, 0.1924478502))
            Line((-5.9969128579, 0.1924478502), (-5.7473100505, 0.1758612615))
            ThreePointArc((-5.7473100505, 0.1758612615), (-5.7211485819, -0.5752902774), (-5.597234326, -1.3166122817))
            Line((-5.597234326, -1.3166122817), (-5.834550498, -1.3992928524))
            ThreePointArc((-5.834550498, -1.3992928524), (-5.8002924908, -1.5351244317), (-5.7628727074, -1.6701192049))
            Line((-5.7628727074, -1.6701192049), (-5.5203607932, -1.6087624789))
            ThreePointArc((-5.5203607932, -1.6087624789), (-5.2633611671, -2.3150657063), (-4.9164306089, -2.9818132181))
            Line((-4.9164306089, -2.9818132181), (-5.1165819993, -3.1337818439))
            ThreePointArc((-5.1165819993, -3.1337818439), (-5.042026432, -3.2523790461), (-4.964722424, -3.3692033558))
        make_face()
        Circle(F4_R_2, mode=Mode.SUBTRACT)
    extrude(amount=F5_DEPTH)


solid = f1.part
